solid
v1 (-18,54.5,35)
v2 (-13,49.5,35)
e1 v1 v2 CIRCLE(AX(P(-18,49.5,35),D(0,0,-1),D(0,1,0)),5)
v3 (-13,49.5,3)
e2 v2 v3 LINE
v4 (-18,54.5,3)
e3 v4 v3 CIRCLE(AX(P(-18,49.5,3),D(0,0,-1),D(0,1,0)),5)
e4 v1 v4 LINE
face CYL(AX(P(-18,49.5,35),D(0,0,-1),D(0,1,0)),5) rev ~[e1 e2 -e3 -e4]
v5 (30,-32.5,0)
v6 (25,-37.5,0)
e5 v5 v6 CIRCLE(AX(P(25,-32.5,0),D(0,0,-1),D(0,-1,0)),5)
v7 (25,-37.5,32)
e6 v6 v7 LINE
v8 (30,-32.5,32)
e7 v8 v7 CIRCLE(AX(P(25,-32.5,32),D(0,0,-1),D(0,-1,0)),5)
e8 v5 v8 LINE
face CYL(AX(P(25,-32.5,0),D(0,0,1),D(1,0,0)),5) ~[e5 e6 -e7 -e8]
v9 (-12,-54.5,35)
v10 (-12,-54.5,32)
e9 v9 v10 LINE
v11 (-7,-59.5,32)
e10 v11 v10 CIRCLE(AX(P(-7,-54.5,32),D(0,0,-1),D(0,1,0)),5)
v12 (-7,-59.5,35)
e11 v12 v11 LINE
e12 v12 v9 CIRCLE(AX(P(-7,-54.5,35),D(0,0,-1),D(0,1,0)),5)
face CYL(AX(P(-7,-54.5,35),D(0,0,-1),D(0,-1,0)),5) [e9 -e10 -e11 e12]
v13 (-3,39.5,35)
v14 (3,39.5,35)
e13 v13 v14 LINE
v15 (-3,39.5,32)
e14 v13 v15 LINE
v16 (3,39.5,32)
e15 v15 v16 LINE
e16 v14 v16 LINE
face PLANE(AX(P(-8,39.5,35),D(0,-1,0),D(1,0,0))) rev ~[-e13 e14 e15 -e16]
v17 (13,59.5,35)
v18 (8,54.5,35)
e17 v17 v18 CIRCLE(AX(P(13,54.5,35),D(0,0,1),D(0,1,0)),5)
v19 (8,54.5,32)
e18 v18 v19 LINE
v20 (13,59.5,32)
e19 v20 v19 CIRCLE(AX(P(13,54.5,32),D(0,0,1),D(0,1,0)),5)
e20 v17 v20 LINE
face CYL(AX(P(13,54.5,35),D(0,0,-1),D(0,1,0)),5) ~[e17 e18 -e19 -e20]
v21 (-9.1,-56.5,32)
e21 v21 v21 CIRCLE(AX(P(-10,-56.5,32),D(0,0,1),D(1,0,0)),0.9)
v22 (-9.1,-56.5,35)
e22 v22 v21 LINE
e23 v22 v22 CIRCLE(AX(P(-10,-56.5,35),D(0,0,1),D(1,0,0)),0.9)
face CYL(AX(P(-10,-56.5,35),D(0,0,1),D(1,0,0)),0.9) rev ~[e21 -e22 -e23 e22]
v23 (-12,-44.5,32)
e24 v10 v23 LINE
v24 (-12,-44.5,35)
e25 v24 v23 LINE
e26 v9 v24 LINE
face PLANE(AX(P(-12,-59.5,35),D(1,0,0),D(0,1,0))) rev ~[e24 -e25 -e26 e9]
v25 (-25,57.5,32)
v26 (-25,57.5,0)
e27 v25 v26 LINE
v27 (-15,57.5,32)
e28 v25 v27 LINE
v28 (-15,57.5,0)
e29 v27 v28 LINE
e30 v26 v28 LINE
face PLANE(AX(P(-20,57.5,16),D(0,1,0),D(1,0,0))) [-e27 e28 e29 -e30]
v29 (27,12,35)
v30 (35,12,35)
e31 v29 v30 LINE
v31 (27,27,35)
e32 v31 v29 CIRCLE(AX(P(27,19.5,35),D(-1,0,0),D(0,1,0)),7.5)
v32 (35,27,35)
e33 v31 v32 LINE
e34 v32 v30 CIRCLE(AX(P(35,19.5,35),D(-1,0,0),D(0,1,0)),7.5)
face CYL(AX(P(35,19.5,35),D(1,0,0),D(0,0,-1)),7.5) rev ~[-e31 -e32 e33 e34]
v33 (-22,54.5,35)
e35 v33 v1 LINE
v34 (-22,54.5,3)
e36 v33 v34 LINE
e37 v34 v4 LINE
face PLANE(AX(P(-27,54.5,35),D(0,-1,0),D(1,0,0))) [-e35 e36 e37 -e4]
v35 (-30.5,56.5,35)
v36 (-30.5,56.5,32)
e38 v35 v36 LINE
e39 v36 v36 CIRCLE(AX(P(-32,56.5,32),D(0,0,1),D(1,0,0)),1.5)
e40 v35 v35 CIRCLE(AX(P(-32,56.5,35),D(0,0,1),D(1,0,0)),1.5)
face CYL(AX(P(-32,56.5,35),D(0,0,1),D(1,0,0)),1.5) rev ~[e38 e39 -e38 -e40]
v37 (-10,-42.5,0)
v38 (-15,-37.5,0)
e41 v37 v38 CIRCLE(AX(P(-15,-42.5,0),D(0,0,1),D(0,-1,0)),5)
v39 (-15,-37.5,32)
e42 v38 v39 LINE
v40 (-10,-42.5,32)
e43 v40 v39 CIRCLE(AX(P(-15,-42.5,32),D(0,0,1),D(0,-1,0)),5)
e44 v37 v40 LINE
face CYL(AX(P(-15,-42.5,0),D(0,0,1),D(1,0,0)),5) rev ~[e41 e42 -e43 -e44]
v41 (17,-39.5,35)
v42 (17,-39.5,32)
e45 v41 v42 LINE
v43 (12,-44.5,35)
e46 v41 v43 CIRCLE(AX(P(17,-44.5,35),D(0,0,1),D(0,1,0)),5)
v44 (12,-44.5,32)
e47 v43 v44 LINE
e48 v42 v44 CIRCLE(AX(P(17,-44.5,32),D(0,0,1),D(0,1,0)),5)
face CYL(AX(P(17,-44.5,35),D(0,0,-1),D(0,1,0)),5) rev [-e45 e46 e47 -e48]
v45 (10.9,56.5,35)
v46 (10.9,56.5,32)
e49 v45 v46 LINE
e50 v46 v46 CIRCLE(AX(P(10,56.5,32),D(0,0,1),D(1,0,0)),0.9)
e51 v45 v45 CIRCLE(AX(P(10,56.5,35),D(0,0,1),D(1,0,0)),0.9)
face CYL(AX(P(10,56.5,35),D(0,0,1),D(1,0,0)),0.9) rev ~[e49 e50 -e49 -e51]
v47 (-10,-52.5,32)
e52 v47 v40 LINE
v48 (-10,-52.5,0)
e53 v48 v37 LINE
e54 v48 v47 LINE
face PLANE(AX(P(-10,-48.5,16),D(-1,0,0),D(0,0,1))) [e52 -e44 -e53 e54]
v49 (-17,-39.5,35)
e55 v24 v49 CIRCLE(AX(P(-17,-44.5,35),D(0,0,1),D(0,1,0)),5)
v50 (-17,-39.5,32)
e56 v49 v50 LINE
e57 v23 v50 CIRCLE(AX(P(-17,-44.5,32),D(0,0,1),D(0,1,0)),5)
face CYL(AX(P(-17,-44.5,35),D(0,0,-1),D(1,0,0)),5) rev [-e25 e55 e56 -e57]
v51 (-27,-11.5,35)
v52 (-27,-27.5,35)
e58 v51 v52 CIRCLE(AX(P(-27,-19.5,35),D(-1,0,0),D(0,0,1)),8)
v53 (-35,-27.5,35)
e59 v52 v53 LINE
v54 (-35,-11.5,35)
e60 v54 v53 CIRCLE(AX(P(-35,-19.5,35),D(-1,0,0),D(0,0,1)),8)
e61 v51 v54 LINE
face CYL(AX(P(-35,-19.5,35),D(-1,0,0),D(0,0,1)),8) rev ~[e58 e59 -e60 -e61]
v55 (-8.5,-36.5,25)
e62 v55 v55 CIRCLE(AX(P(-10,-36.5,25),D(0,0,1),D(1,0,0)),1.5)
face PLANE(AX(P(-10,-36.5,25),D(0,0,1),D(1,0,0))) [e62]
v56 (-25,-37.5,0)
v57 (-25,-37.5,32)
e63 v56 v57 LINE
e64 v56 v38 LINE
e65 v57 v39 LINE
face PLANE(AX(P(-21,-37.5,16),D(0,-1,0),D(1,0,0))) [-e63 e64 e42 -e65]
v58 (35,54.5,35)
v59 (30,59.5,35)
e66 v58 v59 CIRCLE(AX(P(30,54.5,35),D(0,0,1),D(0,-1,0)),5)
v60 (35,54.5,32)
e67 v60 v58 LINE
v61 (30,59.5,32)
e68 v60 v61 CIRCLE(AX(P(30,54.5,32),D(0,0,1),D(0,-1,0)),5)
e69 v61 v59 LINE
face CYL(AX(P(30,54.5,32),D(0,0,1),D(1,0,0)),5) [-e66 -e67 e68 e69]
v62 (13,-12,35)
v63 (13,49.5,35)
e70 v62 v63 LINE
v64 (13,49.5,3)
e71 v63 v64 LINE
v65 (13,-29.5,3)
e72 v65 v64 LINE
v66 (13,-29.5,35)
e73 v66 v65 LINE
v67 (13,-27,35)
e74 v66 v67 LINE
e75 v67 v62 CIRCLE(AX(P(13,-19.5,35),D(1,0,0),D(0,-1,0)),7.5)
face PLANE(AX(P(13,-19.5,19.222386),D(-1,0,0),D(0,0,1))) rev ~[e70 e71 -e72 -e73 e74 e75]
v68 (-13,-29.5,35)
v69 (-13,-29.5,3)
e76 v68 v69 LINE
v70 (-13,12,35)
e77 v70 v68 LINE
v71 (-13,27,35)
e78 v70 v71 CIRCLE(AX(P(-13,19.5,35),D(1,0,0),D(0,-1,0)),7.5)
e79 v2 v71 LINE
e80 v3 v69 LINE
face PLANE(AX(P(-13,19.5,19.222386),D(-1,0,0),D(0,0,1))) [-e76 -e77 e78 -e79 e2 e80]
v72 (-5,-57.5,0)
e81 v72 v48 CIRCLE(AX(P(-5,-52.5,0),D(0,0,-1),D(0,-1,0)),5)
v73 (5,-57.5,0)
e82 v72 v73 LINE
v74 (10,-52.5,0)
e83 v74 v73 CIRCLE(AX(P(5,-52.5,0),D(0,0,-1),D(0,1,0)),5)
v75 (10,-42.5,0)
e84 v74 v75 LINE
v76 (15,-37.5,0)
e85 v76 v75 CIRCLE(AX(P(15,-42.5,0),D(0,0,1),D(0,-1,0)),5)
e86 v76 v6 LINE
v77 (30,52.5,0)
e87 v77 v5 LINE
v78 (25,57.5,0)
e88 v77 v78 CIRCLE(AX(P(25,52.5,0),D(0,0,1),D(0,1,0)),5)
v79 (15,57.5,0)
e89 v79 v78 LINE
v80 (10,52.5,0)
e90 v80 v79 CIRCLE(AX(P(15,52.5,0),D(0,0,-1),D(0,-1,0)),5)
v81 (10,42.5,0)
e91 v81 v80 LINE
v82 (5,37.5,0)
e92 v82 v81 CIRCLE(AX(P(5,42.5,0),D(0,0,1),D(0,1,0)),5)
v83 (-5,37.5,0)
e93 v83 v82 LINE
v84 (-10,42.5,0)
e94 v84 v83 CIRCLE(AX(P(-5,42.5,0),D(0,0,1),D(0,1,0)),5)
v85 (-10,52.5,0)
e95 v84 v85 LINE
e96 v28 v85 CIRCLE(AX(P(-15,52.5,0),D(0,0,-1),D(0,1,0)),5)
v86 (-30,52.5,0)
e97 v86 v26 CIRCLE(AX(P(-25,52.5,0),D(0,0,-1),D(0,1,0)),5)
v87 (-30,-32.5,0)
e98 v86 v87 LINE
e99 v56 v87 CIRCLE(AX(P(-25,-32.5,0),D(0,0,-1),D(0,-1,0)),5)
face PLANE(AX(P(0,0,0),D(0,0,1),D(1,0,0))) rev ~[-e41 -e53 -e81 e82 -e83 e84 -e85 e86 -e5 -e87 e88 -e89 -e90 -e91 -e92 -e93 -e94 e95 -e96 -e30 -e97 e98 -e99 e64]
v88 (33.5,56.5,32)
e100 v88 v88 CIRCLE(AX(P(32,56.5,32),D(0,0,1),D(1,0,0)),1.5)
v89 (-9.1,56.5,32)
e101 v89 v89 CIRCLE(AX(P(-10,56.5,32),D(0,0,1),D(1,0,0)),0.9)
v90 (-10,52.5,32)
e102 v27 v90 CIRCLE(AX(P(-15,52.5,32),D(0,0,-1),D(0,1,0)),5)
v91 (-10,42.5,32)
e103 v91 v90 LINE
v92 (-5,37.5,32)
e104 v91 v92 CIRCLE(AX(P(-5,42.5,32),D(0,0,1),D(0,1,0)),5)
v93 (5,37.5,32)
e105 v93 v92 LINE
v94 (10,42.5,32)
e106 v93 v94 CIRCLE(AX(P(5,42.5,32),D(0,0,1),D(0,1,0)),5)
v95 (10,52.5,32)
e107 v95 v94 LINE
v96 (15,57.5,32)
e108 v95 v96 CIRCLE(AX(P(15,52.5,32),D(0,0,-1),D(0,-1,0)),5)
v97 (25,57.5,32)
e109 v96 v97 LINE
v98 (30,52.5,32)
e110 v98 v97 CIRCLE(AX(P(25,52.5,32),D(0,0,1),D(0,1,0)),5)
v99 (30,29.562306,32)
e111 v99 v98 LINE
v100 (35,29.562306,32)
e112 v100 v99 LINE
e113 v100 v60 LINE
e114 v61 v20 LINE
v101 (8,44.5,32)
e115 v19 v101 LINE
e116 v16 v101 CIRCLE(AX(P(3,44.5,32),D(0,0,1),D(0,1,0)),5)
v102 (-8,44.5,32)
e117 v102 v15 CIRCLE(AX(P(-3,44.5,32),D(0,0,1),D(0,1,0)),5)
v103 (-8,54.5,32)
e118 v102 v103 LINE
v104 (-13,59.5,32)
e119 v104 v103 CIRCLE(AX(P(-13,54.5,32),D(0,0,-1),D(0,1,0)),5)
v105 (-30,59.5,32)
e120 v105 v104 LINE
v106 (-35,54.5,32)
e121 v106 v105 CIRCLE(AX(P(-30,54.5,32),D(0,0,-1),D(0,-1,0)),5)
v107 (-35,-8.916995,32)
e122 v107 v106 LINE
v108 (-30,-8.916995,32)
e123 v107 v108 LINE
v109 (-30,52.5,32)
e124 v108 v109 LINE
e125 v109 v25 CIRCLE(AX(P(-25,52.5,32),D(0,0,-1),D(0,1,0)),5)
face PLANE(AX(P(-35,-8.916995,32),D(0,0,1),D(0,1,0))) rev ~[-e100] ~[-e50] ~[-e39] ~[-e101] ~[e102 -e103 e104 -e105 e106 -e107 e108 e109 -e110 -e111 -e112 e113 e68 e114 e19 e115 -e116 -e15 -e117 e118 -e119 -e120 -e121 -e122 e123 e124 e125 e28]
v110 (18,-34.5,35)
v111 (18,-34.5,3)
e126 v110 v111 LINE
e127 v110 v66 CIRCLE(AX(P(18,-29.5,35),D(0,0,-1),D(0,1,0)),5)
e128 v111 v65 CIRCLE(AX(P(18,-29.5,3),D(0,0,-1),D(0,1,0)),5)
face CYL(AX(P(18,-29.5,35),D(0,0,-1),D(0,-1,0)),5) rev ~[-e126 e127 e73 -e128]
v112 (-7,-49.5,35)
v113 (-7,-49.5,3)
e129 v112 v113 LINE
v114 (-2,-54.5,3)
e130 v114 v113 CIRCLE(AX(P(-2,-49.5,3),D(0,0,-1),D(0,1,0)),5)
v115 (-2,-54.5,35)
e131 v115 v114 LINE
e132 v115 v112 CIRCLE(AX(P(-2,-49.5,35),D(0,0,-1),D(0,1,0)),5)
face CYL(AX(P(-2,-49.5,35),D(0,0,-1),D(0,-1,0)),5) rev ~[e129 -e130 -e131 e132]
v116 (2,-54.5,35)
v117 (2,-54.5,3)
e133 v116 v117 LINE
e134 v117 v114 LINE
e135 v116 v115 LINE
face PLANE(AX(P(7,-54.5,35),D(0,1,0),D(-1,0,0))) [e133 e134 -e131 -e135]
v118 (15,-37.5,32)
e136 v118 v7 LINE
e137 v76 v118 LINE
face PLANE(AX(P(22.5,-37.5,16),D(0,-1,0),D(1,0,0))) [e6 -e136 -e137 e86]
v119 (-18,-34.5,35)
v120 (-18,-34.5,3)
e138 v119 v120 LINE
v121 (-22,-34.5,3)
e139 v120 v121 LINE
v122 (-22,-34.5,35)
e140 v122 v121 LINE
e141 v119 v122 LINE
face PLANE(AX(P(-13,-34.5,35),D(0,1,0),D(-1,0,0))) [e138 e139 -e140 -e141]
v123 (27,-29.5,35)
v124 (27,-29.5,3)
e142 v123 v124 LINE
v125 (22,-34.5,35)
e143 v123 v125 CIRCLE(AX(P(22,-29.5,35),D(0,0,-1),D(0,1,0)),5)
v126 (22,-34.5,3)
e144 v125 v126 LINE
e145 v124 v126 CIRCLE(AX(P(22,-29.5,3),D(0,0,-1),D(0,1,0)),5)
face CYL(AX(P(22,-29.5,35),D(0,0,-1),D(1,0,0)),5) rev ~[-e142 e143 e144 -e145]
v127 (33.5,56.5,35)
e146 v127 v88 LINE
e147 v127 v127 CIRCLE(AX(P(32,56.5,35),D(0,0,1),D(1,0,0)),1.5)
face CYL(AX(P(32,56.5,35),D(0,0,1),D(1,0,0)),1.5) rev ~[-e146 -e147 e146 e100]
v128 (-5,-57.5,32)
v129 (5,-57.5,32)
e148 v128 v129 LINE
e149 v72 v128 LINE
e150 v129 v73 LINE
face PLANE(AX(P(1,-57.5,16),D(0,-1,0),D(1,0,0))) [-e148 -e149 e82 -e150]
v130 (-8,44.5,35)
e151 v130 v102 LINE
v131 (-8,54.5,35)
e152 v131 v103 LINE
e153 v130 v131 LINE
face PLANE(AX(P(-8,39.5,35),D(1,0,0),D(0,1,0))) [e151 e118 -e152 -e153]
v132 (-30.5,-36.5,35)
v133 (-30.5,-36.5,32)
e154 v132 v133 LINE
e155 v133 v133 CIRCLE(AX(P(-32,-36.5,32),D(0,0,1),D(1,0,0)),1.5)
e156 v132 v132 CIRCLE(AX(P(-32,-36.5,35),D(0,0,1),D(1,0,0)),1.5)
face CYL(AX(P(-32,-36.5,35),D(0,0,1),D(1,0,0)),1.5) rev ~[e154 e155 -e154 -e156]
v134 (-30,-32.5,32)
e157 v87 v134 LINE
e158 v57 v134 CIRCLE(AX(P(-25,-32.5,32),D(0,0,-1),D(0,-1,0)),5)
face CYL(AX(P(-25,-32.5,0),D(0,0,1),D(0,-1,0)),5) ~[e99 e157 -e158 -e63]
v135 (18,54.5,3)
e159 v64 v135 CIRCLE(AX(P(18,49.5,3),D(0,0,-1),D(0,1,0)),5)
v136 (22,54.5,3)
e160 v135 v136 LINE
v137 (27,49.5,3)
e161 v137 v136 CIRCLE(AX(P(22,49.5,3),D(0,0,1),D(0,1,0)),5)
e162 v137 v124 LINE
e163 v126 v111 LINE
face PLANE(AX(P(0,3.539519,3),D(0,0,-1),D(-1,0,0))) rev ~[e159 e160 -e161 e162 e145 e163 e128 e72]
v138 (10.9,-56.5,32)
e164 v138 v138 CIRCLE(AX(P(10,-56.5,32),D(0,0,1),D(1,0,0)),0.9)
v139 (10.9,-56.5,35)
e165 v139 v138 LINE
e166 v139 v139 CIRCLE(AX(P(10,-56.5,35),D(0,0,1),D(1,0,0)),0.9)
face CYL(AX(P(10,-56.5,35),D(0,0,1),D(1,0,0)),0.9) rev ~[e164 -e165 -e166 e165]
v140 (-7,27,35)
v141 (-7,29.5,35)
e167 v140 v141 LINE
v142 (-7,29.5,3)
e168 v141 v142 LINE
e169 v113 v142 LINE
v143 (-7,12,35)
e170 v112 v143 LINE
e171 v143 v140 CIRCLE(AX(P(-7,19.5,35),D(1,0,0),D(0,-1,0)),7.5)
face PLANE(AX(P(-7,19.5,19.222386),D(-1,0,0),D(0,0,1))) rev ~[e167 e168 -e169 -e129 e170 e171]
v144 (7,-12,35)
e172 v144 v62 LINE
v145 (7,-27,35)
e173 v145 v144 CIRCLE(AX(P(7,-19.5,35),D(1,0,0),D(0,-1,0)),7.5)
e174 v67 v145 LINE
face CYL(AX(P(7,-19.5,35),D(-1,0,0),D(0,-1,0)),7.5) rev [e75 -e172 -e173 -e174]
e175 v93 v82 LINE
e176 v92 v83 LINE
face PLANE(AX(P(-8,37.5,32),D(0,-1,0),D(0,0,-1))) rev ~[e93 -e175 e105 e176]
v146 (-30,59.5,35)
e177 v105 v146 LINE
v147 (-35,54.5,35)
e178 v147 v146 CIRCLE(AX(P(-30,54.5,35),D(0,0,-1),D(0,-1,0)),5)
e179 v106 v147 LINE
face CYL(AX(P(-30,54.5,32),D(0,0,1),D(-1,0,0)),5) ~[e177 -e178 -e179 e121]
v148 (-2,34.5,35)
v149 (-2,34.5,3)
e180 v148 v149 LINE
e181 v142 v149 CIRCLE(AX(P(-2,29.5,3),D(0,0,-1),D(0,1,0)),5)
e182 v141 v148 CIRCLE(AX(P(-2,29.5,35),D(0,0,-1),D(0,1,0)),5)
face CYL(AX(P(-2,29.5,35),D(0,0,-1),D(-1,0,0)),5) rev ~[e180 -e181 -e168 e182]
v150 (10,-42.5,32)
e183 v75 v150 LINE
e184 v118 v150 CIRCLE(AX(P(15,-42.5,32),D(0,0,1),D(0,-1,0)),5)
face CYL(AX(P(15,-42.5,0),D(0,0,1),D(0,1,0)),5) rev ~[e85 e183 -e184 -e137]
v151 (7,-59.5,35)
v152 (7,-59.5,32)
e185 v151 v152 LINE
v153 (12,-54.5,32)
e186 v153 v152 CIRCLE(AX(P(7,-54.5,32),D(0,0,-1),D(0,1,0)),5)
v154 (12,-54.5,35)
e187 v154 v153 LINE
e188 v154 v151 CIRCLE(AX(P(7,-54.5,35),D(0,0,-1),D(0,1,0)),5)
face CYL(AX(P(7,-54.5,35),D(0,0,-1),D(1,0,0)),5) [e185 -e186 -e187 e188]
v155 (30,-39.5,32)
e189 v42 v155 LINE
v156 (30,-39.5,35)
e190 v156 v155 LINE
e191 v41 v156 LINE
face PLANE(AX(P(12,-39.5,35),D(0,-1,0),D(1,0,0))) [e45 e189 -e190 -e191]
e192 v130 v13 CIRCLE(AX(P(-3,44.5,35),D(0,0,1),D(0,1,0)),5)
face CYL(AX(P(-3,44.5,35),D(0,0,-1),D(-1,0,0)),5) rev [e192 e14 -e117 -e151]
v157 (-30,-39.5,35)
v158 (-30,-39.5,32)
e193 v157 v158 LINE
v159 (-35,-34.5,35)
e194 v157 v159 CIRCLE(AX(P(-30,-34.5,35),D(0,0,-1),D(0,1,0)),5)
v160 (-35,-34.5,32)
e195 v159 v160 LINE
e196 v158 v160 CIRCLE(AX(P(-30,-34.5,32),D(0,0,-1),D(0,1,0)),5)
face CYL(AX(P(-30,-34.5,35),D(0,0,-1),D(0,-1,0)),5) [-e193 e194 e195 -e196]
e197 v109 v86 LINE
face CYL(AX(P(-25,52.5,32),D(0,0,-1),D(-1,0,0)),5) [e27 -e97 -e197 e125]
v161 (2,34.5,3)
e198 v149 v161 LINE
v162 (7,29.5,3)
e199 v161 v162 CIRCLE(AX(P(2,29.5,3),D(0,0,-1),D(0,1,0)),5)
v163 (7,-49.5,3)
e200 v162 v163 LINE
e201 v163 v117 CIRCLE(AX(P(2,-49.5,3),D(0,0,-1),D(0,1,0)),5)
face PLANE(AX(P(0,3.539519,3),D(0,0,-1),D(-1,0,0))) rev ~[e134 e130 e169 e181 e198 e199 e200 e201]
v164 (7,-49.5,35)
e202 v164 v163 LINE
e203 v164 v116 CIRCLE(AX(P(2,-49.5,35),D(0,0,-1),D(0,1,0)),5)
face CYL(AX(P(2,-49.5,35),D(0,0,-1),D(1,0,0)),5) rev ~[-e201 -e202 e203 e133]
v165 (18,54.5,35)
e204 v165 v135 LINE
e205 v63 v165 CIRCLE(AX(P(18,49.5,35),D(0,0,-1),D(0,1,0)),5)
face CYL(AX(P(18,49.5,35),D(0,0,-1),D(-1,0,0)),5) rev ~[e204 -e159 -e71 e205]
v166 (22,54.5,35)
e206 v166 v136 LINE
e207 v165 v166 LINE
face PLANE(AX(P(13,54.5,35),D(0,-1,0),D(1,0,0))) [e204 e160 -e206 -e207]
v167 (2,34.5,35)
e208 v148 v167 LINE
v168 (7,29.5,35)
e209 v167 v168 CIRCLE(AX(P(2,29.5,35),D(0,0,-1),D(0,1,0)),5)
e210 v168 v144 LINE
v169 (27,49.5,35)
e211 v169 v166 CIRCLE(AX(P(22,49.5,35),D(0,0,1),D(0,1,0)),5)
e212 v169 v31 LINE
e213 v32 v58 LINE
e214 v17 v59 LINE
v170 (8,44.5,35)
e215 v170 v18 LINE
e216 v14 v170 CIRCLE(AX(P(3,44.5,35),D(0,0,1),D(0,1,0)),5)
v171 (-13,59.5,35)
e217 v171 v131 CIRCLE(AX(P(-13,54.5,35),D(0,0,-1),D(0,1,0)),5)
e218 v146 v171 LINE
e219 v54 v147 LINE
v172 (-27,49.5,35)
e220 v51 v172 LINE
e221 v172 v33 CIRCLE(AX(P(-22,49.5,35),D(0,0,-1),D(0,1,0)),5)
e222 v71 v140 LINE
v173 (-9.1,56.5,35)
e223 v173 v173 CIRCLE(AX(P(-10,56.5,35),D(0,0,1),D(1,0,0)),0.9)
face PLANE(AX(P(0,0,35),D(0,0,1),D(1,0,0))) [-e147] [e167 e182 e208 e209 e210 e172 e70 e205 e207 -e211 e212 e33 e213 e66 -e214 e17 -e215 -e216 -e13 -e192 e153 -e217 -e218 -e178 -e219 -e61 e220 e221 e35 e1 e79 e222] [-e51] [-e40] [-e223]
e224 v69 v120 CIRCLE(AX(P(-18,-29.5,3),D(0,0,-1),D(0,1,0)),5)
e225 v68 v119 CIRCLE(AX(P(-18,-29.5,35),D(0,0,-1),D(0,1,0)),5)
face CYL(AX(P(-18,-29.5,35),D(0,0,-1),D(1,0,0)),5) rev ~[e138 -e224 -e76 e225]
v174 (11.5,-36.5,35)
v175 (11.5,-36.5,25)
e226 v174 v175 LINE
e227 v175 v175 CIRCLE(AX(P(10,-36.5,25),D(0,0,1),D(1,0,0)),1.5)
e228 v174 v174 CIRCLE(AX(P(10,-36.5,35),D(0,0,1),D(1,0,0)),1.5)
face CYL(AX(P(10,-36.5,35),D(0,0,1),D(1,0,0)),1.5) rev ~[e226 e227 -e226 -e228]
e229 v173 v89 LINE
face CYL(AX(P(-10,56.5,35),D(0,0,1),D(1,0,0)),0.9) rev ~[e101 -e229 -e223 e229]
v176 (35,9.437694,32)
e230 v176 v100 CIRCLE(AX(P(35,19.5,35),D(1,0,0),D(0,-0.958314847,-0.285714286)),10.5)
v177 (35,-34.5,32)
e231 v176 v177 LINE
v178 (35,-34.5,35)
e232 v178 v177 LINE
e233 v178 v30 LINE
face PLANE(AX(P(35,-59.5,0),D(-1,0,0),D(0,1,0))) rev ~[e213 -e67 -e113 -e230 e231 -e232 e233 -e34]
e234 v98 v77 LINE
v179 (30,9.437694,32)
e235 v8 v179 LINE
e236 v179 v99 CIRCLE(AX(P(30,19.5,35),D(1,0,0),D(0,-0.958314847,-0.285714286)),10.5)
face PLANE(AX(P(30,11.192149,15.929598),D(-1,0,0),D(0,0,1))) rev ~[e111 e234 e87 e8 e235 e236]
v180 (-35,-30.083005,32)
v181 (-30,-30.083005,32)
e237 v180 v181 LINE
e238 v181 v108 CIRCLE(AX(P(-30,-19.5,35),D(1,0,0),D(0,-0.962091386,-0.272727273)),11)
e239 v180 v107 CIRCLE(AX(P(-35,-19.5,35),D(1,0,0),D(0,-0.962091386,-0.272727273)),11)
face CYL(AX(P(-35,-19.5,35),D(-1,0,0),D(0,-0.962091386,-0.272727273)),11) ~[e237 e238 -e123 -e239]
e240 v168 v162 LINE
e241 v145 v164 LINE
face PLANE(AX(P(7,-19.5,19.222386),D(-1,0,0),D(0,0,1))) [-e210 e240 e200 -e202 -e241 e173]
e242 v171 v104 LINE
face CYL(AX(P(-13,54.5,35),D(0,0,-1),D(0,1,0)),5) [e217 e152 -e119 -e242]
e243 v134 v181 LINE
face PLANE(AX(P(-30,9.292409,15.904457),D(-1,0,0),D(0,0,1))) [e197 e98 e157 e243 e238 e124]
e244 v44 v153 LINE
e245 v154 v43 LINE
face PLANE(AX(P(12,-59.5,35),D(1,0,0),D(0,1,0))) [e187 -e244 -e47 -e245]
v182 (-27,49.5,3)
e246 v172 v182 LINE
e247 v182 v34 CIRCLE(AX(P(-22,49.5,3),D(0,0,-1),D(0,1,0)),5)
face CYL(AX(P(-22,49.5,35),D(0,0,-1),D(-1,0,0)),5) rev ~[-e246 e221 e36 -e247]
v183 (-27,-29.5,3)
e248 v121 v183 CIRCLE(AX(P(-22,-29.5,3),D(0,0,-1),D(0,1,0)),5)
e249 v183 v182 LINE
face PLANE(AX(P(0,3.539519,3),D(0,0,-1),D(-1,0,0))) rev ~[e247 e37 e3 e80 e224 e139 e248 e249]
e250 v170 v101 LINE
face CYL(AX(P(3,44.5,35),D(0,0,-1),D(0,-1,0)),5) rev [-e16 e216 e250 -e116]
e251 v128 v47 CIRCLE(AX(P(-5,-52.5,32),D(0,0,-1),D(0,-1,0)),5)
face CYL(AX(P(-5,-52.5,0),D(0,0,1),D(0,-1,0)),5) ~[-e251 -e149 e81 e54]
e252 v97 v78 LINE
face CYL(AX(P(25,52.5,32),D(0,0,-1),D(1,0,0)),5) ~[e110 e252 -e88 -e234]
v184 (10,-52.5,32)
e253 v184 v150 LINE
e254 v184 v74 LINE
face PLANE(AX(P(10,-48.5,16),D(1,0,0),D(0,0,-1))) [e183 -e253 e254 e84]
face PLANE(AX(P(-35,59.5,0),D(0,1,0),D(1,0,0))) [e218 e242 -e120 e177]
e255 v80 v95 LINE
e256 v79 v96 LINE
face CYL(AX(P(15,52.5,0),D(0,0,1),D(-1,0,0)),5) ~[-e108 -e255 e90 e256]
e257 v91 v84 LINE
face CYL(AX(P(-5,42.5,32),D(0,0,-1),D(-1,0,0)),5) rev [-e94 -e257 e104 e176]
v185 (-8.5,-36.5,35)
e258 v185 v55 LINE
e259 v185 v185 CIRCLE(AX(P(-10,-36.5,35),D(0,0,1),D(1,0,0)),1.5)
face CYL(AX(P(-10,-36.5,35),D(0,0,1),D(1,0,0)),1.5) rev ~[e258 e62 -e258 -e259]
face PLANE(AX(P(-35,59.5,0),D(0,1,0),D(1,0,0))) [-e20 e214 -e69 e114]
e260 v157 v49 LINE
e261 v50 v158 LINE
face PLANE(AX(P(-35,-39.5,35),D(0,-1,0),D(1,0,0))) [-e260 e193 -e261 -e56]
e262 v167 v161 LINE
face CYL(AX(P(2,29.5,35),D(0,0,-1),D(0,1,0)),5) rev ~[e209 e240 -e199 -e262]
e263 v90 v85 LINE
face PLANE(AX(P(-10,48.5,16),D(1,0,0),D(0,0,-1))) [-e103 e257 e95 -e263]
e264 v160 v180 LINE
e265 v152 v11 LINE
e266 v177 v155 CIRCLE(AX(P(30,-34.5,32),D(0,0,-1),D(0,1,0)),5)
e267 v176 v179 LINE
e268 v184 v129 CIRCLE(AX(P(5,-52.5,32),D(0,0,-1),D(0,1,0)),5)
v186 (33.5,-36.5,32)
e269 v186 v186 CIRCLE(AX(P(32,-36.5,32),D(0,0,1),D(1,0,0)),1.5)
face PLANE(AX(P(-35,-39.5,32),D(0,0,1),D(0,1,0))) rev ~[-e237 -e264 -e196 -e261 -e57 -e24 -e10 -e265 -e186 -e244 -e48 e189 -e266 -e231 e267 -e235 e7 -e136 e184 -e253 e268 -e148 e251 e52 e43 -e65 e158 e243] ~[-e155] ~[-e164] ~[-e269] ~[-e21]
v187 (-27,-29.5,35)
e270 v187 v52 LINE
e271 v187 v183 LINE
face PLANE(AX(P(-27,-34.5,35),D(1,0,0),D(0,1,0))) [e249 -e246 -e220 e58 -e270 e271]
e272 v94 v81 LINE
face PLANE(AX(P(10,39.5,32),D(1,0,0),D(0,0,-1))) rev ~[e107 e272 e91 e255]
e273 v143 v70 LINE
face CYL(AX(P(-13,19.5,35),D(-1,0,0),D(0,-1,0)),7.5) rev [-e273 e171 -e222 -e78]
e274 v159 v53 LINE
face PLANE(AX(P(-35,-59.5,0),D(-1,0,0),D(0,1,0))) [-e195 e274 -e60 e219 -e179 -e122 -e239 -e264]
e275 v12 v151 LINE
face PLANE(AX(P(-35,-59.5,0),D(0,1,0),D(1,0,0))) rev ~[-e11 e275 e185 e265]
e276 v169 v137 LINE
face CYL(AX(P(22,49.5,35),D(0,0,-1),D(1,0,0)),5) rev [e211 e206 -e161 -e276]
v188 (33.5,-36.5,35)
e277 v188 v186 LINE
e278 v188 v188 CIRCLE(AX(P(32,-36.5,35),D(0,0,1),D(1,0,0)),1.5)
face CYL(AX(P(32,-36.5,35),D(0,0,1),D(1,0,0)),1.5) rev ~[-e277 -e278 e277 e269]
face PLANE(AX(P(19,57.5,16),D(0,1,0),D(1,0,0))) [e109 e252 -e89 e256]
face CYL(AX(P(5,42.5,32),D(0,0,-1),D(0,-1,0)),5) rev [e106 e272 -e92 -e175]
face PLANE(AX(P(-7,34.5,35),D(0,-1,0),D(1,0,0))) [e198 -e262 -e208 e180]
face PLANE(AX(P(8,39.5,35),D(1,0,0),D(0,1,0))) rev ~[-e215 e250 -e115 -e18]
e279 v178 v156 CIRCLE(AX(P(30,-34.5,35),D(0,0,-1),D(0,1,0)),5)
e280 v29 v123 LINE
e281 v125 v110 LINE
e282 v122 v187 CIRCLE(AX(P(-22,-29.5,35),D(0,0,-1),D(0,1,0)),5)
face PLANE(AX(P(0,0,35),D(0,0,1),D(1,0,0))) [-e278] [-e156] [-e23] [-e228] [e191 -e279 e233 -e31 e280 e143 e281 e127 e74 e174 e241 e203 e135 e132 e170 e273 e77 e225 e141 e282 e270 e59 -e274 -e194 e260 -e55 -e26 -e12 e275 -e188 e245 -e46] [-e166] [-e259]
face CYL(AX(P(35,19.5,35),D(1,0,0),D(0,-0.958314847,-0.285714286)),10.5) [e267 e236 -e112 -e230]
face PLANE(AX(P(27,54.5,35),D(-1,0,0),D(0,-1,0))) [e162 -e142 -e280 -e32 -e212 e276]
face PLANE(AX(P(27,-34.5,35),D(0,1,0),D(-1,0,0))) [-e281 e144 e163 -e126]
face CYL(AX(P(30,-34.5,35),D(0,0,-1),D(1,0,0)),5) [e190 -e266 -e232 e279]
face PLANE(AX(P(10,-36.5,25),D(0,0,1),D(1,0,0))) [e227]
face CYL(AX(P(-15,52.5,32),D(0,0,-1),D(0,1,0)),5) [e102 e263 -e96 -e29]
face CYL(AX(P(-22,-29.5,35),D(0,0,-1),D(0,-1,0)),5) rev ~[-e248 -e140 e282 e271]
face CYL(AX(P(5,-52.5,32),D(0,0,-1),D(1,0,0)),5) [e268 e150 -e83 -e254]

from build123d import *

# Parameters (mm, degrees)
SKETCH1_W           = 70
SKETCH1_H           = 119
BOSS_EXTRUDE1_DEPTH = 35
SKETCH2_R           = 8
CUT_EXTRUDE1_DEPTH  = 8
CUT_EXTRUDE2_DEPTH  = 32
SKETCH4_R           = 7.5
CUT_EXTRUDE3_DEPTH  = 8
SKETCH5_W           = 16
SKETCH5_H           = 20
SKETCH5_W_2         = 23
CUT_EXTRUDE4_DEPTH  = 36
CUT_EXTRUDE5_DEPTH  = 5
SKETCH7_W           = 18
SKETCH7_H           = 32
CUT_EXTRUDE6_DEPTH  = 2
SKETCH8_W           = 32
SKETCH8_H           = 22
CUT_EXTRUDE7_DEPTH  = 2
SKETCH9_W           = 22
SKETCH9_H           = 32
CUT_EXTRUDE8_DEPTH  = 2
SKETCH10_W          = 32
SKETCH10_H          = 18
CUT_EXTRUDE9_DEPTH  = 2
SKETCH11_W          = 25
SKETCH11_H          = 32
CUT_EXTRUDE10_DEPTH = 2
CUT_EXTRUDE11_DEPTH = 5
SKETCH14_W          = 22
SKETCH14_H          = 32
CUT_EXTRUDE12_DEPTH = 2
SKETCH16_W          = 32
SKETCH16_H          = 18
CUT_EXTRUDE13_DEPTH = 2
SKETCH17_W          = 18
SKETCH17_H          = 32
CUT_EXTRUDE14_DEPTH = 2
SKETCH18_W          = 32
SKETCH18_H          = 22
CUT_EXTRUDE15_DEPTH = 2
SKETCH19_W          = 20
SKETCH19_H          = 32
CUT_EXTRUDE16_DEPTH = 2
FILLET1_R           = 5
FILLET3_R           = 5
FILLET4_R           = 5
SKETCH20_R          = 1.5
CUT_EXTRUDE17_DEPTH = 10
SKETCH21_R          = 0.9
CUT_EXTRUDE18_DEPTH = 10
BOSS_EXTRUDE2_DEPTH = 6
BOSS_EXTRUDE3_DEPTH = 6


with BuildPart() as part:
    # Sketch1 → Boss-Extrude1 (new body)
    with BuildSketch(Plane.XY):
        Rectangle(SKETCH1_W, SKETCH1_H)
    extrude(amount=BOSS_EXTRUDE1_DEPTH)

    # Sketch2 → Cut-Extrude1 (cut)
    with BuildSketch(Plane.ZY.offset(35)):
        with Locations((35, -19.5)):
            Circle(SKETCH2_R)
    extrude(amount=-CUT_EXTRUDE1_DEPTH, mode=Mode.SUBTRACT)

    # Sketch3 → Cut-Extrude2 (cut)
    with BuildSketch(Plane.XY.offset(35)):
        Polygon((-27, 54.5), (-13, 54.5), (-13, 27), (-7, 27), (-7, 34.5), (7, 34.5), (7, -12), (13, -12), (13, 54.5), (27, 54.5), (27, -34.5), (13, -34.5), (13, -27), (7, -27), (7, -54.5), (-7, -54.5), (-7, 12), (-13, 12), (-13, -34.5), (-27, -34.5), align=None)
    extrude(amount=-CUT_EXTRUDE2_DEPTH, mode=Mode.SUBTRACT)

    # Sketch4 → Cut-Extrude3 (cut)
    with BuildSketch(Plane(origin=(35, 0, 0), x_dir=(0, 0, -1), z_dir=(1, 0, 0))):
        with Locations((-35, 19.5)):
            Circle(SKETCH4_R)
    extrude(amount=-CUT_EXTRUDE3_DEPTH, mode=Mode.SUBTRACT)

    # Sketch5 → Cut-Extrude4 (cut, through all)
    with BuildSketch(Plane.XY.offset(35)):
        with Locations((0, 49.5)):
            Rectangle(SKETCH5_W, SKETCH5_H)
        with Locations((-23.5, -49.5)):
            Rectangle(SKETCH5_W_2, SKETCH5_H)
        with Locations((23.5, -49.5)):
            Rectangle(SKETCH5_W_2, SKETCH5_H)
    extrude(amount=-CUT_EXTRUDE4_DEPTH, mode=Mode.SUBTRACT)

    # Sketch6 → Cut-Extrude5 (cut)
    with BuildSketch(Plane.ZY.offset(35)):
        with BuildLine():
            Line((32, 59.5), (0, 59.5))
            Line((0, 59.5), (0, -39.5))
            Line((0, -39.5), (32, -39.5))
            Line((32, -39.5), (32, -30.083005244))
            ThreePointArc((32, -30.083005244), (24, -19.5), (32, -8.916994756))
            Line((32, -8.916994756), (32, 59.5))
        make_face()
    extrude(amount=-CUT_EXTRUDE5_DEPTH, mode=Mode.SUBTRACT)

    # Sketch7 → Cut-Extrude6 (cut)
    with BuildSketch(Plane.XZ.offset(39.5)):
        with Locations((-21, 16)):
            Rectangle(SKETCH7_W, SKETCH7_H)
    extrude(amount=-CUT_EXTRUDE6_DEPTH, mode=Mode.SUBTRACT)

    # Sketch8 → Cut-Extrude7 (cut)
    with BuildSketch(Plane.ZY.offset(12)):
        with Locations((16, -48.5)):
            Rectangle(SKETCH8_W, SKETCH8_H)
    extrude(amount=-CUT_EXTRUDE7_DEPTH, mode=Mode.SUBTRACT)

    # Sketch9 → Cut-Extrude8 (cut)
    with BuildSketch(Plane.XZ.offset(59.5)):
        with Locations((1, 16)):
            Rectangle(SKETCH9_W, SKETCH9_H)
    extrude(amount=-CUT_EXTRUDE8_DEPTH, mode=Mode.SUBTRACT)

    # Sketch10 → Cut-Extrude9 (cut)
    with BuildSketch(Plane(origin=(12, 0, 0), x_dir=(0, 0, -1), z_dir=(1, 0, 0))):
        with Locations((-16, -48.5)):
            Rectangle(SKETCH10_W, SKETCH10_H)
    extrude(amount=-CUT_EXTRUDE9_DEPTH, mode=Mode.SUBTRACT)

    # Sketch11 → Cut-Extrude10 (cut)
    with BuildSketch(Plane.XZ.offset(39.5)):
        with Locations((22.5, 16)):
            Rectangle(SKETCH11_W, SKETCH11_H)
    extrude(amount=-CUT_EXTRUDE10_DEPTH, mode=Mode.SUBTRACT)

    # Sketch13 → Cut-Extrude11 (cut)
    with BuildSketch(Plane(origin=(35, 0, 0), x_dir=(0, 0, -1), z_dir=(1, 0, 0))):
        with BuildLine():
            Line((-32, 59.5), (0, 59.5))
            Line((0, 59.5), (0, -37.5))
            Line((0, -37.5), (-32, -37.5))
            Line((-32, -37.5), (-32, 9.437694101))
            ThreePointArc((-32, 9.437694101), (-24.5, 19.5), (-32, 29.562305899))
            Line((-32, 29.562305899), (-32, 59.5))
        make_face()
    extrude(amount=-CUT_EXTRUDE11_DEPTH, mode=Mode.SUBTRACT)

    # Sketch14 → Cut-Extrude12 (cut)
    with BuildSketch(Plane(origin=(0, 59.5, 0), x_dir=(1, 0, 0), z_dir=(0, 1, 0))):
        with Locations((19, -16)):
            Rectangle(SKETCH14_W, SKETCH14_H)
    extrude(amount=-CUT_EXTRUDE12_DEPTH, mode=Mode.SUBTRACT)

    # Sketch16 → Cut-Extrude13 (cut)
    with BuildSketch(Plane.ZY.offset(-8)):
        with Locations((16, 48.5)):
            Rectangle(SKETCH16_W, SKETCH16_H)
    extrude(amount=-CUT_EXTRUDE13_DEPTH, mode=Mode.SUBTRACT)

    # Sketch17 → Cut-Extrude14 (cut)
    with BuildSketch(Plane(origin=(0, 39.5, 0), x_dir=(1, 0, 0), z_dir=(0, 1, 0))):
        with Locations((1, -16)):
            Rectangle(SKETCH17_W, SKETCH17_H)
    extrude(amount=-CUT_EXTRUDE14_DEPTH, mode=Mode.SUBTRACT)

    # Sketch18 → Cut-Extrude15 (cut)
    with BuildSketch(Plane(origin=(-8, 0, 0), x_dir=(0, 0, -1), z_dir=(1, 0, 0))):
        with Locations((-16, 48.5)):
            Rectangle(SKETCH18_W, SKETCH18_H)
    extrude(amount=-CUT_EXTRUDE15_DEPTH, mode=Mode.SUBTRACT)

    # Sketch19 → Cut-Extrude16 (cut)
    with BuildSketch(Plane(origin=(0, 59.5, 0), x_dir=(1, 0, 0), z_dir=(0, 1, 0))):
        with Locations((-20, -16)):
            Rectangle(SKETCH19_W, SKETCH19_H)
    extrude(amount=-CUT_EXTRUDE16_DEPTH, mode=Mode.SUBTRACT)

    # Fillet1
    fillet1_edges = [part.edges().sort_by_distance(p)[0] for p in [
        (-27, -34.5, 19),
        (-27, 54.5, 19),
        (-13, 54.5, 19),
        (-7, 34.5, 19),
        (7, 34.5, 19),
        (13, 54.5, 19),
        (27, 54.5, 19),
        (27, -34.5, 19),
        (13, -34.5, 19),
        (7, -54.5, 19),
        (-7, -54.5, 19),
        (-13, -34.5, 19),
    ]]
    fillet(fillet1_edges, radius=FILLET1_R)

    # Fillet3
    fillet3_edges = [part.edges().sort_by_distance(p)[0] for p in [
        (-30, -37.5, 16),
        (-10, -37.5, 16),
        (-10, -57.5, 16),
        (10, -57.5, 16),
        (10, -37.5, 16),
        (30, -37.5, 16),
        (30, 57.5, 16),
        (10, 57.5, 16),
        (10, 37.5, 16),
        (-10, 37.5, 16),
        (-10, 57.5, 16),
        (-30, 57.5, 16),
    ]]
    fillet(fillet3_edges, radius=FILLET3_R)

    # Fillet4
    fillet4_edges = [part.edges().sort_by_distance(p)[0] for p in [
        (-35, -39.5, 33.5),
        (-12, -39.5, 33.5),
        (-12, -59.5, 33.5),
        (12, -59.5, 33.5),
        (12, -39.5, 33.5),
        (35, -39.5, 33.5),
        (8, 59.5, 33.5),
        (8, 39.5, 33.5),
        (-8, 39.5, 33.5),
        (-8, 59.5, 33.5),
        (-35, 59.5, 33.5),
        (35, 59.5, 33.5),
    ]]
    fillet(fillet4_edges, radius=FILLET4_R)

    # Sketch20 → Cut-Extrude17 (cut)
    with BuildSketch(Plane.XY.offset(35)):
        with Locations((-32, 56.5)):
            Circle(SKETCH20_R)
        with Locations((32, 56.5)):
            Circle(SKETCH20_R)
        with Locations((32, -36.5)):
            Circle(SKETCH20_R)
        with Locations((-32, -36.5)):
            Circle(SKETCH20_R)
        with Locations((-10, -36.5)):
            Circle(SKETCH20_R)
        with Locations((10, -36.5)):
            Circle(SKETCH20_R)
    extrude(amount=-CUT_EXTRUDE17_DEPTH, mode=Mode.SUBTRACT)

    # Sketch21 → Cut-Extrude18 (cut)
    with BuildSketch(Plane.XY.offset(35)):
        with Locations((-10, 56.5)):
            Circle(SKETCH21_R)
        with Locations((10, 56.5)):
            Circle(SKETCH21_R)
        with Locations((10, -56.5)):
            Circle(SKETCH21_R)
        with Locations((-10, -56.5)):
            Circle(SKETCH21_R)
    extrude(amount=-CUT_EXTRUDE18_DEPTH, mode=Mode.SUBTRACT)

    # Sketch22 → Boss-Extrude2 (add)
    with BuildSketch(Plane.ZY.offset(13)):
        with BuildLine():
            Line((35, 27), (3, 27))
            Line((3, 27), (3, 12))
            Line((3, 12), (35, 12))
            ThreePointArc((35, 12), (27.5, 19.5), (35, 27))
        make_face()
    extrude(amount=-BOSS_EXTRUDE2_DEPTH)

    # Sketch24 → Boss-Extrude3 (add)
    with BuildSketch(Plane.ZY.offset(-7)):
        with BuildLine():
            Line((35, -12), (3, -12))
            Line((3, -12), (3, -27))
            Line((3, -27), (35, -27))
            ThreePointArc((35, -27), (27.5, -19.5), (35, -12))
        make_face()
    extrude(amount=-BOSS_EXTRUDE3_DEPTH)


solid = part.part
